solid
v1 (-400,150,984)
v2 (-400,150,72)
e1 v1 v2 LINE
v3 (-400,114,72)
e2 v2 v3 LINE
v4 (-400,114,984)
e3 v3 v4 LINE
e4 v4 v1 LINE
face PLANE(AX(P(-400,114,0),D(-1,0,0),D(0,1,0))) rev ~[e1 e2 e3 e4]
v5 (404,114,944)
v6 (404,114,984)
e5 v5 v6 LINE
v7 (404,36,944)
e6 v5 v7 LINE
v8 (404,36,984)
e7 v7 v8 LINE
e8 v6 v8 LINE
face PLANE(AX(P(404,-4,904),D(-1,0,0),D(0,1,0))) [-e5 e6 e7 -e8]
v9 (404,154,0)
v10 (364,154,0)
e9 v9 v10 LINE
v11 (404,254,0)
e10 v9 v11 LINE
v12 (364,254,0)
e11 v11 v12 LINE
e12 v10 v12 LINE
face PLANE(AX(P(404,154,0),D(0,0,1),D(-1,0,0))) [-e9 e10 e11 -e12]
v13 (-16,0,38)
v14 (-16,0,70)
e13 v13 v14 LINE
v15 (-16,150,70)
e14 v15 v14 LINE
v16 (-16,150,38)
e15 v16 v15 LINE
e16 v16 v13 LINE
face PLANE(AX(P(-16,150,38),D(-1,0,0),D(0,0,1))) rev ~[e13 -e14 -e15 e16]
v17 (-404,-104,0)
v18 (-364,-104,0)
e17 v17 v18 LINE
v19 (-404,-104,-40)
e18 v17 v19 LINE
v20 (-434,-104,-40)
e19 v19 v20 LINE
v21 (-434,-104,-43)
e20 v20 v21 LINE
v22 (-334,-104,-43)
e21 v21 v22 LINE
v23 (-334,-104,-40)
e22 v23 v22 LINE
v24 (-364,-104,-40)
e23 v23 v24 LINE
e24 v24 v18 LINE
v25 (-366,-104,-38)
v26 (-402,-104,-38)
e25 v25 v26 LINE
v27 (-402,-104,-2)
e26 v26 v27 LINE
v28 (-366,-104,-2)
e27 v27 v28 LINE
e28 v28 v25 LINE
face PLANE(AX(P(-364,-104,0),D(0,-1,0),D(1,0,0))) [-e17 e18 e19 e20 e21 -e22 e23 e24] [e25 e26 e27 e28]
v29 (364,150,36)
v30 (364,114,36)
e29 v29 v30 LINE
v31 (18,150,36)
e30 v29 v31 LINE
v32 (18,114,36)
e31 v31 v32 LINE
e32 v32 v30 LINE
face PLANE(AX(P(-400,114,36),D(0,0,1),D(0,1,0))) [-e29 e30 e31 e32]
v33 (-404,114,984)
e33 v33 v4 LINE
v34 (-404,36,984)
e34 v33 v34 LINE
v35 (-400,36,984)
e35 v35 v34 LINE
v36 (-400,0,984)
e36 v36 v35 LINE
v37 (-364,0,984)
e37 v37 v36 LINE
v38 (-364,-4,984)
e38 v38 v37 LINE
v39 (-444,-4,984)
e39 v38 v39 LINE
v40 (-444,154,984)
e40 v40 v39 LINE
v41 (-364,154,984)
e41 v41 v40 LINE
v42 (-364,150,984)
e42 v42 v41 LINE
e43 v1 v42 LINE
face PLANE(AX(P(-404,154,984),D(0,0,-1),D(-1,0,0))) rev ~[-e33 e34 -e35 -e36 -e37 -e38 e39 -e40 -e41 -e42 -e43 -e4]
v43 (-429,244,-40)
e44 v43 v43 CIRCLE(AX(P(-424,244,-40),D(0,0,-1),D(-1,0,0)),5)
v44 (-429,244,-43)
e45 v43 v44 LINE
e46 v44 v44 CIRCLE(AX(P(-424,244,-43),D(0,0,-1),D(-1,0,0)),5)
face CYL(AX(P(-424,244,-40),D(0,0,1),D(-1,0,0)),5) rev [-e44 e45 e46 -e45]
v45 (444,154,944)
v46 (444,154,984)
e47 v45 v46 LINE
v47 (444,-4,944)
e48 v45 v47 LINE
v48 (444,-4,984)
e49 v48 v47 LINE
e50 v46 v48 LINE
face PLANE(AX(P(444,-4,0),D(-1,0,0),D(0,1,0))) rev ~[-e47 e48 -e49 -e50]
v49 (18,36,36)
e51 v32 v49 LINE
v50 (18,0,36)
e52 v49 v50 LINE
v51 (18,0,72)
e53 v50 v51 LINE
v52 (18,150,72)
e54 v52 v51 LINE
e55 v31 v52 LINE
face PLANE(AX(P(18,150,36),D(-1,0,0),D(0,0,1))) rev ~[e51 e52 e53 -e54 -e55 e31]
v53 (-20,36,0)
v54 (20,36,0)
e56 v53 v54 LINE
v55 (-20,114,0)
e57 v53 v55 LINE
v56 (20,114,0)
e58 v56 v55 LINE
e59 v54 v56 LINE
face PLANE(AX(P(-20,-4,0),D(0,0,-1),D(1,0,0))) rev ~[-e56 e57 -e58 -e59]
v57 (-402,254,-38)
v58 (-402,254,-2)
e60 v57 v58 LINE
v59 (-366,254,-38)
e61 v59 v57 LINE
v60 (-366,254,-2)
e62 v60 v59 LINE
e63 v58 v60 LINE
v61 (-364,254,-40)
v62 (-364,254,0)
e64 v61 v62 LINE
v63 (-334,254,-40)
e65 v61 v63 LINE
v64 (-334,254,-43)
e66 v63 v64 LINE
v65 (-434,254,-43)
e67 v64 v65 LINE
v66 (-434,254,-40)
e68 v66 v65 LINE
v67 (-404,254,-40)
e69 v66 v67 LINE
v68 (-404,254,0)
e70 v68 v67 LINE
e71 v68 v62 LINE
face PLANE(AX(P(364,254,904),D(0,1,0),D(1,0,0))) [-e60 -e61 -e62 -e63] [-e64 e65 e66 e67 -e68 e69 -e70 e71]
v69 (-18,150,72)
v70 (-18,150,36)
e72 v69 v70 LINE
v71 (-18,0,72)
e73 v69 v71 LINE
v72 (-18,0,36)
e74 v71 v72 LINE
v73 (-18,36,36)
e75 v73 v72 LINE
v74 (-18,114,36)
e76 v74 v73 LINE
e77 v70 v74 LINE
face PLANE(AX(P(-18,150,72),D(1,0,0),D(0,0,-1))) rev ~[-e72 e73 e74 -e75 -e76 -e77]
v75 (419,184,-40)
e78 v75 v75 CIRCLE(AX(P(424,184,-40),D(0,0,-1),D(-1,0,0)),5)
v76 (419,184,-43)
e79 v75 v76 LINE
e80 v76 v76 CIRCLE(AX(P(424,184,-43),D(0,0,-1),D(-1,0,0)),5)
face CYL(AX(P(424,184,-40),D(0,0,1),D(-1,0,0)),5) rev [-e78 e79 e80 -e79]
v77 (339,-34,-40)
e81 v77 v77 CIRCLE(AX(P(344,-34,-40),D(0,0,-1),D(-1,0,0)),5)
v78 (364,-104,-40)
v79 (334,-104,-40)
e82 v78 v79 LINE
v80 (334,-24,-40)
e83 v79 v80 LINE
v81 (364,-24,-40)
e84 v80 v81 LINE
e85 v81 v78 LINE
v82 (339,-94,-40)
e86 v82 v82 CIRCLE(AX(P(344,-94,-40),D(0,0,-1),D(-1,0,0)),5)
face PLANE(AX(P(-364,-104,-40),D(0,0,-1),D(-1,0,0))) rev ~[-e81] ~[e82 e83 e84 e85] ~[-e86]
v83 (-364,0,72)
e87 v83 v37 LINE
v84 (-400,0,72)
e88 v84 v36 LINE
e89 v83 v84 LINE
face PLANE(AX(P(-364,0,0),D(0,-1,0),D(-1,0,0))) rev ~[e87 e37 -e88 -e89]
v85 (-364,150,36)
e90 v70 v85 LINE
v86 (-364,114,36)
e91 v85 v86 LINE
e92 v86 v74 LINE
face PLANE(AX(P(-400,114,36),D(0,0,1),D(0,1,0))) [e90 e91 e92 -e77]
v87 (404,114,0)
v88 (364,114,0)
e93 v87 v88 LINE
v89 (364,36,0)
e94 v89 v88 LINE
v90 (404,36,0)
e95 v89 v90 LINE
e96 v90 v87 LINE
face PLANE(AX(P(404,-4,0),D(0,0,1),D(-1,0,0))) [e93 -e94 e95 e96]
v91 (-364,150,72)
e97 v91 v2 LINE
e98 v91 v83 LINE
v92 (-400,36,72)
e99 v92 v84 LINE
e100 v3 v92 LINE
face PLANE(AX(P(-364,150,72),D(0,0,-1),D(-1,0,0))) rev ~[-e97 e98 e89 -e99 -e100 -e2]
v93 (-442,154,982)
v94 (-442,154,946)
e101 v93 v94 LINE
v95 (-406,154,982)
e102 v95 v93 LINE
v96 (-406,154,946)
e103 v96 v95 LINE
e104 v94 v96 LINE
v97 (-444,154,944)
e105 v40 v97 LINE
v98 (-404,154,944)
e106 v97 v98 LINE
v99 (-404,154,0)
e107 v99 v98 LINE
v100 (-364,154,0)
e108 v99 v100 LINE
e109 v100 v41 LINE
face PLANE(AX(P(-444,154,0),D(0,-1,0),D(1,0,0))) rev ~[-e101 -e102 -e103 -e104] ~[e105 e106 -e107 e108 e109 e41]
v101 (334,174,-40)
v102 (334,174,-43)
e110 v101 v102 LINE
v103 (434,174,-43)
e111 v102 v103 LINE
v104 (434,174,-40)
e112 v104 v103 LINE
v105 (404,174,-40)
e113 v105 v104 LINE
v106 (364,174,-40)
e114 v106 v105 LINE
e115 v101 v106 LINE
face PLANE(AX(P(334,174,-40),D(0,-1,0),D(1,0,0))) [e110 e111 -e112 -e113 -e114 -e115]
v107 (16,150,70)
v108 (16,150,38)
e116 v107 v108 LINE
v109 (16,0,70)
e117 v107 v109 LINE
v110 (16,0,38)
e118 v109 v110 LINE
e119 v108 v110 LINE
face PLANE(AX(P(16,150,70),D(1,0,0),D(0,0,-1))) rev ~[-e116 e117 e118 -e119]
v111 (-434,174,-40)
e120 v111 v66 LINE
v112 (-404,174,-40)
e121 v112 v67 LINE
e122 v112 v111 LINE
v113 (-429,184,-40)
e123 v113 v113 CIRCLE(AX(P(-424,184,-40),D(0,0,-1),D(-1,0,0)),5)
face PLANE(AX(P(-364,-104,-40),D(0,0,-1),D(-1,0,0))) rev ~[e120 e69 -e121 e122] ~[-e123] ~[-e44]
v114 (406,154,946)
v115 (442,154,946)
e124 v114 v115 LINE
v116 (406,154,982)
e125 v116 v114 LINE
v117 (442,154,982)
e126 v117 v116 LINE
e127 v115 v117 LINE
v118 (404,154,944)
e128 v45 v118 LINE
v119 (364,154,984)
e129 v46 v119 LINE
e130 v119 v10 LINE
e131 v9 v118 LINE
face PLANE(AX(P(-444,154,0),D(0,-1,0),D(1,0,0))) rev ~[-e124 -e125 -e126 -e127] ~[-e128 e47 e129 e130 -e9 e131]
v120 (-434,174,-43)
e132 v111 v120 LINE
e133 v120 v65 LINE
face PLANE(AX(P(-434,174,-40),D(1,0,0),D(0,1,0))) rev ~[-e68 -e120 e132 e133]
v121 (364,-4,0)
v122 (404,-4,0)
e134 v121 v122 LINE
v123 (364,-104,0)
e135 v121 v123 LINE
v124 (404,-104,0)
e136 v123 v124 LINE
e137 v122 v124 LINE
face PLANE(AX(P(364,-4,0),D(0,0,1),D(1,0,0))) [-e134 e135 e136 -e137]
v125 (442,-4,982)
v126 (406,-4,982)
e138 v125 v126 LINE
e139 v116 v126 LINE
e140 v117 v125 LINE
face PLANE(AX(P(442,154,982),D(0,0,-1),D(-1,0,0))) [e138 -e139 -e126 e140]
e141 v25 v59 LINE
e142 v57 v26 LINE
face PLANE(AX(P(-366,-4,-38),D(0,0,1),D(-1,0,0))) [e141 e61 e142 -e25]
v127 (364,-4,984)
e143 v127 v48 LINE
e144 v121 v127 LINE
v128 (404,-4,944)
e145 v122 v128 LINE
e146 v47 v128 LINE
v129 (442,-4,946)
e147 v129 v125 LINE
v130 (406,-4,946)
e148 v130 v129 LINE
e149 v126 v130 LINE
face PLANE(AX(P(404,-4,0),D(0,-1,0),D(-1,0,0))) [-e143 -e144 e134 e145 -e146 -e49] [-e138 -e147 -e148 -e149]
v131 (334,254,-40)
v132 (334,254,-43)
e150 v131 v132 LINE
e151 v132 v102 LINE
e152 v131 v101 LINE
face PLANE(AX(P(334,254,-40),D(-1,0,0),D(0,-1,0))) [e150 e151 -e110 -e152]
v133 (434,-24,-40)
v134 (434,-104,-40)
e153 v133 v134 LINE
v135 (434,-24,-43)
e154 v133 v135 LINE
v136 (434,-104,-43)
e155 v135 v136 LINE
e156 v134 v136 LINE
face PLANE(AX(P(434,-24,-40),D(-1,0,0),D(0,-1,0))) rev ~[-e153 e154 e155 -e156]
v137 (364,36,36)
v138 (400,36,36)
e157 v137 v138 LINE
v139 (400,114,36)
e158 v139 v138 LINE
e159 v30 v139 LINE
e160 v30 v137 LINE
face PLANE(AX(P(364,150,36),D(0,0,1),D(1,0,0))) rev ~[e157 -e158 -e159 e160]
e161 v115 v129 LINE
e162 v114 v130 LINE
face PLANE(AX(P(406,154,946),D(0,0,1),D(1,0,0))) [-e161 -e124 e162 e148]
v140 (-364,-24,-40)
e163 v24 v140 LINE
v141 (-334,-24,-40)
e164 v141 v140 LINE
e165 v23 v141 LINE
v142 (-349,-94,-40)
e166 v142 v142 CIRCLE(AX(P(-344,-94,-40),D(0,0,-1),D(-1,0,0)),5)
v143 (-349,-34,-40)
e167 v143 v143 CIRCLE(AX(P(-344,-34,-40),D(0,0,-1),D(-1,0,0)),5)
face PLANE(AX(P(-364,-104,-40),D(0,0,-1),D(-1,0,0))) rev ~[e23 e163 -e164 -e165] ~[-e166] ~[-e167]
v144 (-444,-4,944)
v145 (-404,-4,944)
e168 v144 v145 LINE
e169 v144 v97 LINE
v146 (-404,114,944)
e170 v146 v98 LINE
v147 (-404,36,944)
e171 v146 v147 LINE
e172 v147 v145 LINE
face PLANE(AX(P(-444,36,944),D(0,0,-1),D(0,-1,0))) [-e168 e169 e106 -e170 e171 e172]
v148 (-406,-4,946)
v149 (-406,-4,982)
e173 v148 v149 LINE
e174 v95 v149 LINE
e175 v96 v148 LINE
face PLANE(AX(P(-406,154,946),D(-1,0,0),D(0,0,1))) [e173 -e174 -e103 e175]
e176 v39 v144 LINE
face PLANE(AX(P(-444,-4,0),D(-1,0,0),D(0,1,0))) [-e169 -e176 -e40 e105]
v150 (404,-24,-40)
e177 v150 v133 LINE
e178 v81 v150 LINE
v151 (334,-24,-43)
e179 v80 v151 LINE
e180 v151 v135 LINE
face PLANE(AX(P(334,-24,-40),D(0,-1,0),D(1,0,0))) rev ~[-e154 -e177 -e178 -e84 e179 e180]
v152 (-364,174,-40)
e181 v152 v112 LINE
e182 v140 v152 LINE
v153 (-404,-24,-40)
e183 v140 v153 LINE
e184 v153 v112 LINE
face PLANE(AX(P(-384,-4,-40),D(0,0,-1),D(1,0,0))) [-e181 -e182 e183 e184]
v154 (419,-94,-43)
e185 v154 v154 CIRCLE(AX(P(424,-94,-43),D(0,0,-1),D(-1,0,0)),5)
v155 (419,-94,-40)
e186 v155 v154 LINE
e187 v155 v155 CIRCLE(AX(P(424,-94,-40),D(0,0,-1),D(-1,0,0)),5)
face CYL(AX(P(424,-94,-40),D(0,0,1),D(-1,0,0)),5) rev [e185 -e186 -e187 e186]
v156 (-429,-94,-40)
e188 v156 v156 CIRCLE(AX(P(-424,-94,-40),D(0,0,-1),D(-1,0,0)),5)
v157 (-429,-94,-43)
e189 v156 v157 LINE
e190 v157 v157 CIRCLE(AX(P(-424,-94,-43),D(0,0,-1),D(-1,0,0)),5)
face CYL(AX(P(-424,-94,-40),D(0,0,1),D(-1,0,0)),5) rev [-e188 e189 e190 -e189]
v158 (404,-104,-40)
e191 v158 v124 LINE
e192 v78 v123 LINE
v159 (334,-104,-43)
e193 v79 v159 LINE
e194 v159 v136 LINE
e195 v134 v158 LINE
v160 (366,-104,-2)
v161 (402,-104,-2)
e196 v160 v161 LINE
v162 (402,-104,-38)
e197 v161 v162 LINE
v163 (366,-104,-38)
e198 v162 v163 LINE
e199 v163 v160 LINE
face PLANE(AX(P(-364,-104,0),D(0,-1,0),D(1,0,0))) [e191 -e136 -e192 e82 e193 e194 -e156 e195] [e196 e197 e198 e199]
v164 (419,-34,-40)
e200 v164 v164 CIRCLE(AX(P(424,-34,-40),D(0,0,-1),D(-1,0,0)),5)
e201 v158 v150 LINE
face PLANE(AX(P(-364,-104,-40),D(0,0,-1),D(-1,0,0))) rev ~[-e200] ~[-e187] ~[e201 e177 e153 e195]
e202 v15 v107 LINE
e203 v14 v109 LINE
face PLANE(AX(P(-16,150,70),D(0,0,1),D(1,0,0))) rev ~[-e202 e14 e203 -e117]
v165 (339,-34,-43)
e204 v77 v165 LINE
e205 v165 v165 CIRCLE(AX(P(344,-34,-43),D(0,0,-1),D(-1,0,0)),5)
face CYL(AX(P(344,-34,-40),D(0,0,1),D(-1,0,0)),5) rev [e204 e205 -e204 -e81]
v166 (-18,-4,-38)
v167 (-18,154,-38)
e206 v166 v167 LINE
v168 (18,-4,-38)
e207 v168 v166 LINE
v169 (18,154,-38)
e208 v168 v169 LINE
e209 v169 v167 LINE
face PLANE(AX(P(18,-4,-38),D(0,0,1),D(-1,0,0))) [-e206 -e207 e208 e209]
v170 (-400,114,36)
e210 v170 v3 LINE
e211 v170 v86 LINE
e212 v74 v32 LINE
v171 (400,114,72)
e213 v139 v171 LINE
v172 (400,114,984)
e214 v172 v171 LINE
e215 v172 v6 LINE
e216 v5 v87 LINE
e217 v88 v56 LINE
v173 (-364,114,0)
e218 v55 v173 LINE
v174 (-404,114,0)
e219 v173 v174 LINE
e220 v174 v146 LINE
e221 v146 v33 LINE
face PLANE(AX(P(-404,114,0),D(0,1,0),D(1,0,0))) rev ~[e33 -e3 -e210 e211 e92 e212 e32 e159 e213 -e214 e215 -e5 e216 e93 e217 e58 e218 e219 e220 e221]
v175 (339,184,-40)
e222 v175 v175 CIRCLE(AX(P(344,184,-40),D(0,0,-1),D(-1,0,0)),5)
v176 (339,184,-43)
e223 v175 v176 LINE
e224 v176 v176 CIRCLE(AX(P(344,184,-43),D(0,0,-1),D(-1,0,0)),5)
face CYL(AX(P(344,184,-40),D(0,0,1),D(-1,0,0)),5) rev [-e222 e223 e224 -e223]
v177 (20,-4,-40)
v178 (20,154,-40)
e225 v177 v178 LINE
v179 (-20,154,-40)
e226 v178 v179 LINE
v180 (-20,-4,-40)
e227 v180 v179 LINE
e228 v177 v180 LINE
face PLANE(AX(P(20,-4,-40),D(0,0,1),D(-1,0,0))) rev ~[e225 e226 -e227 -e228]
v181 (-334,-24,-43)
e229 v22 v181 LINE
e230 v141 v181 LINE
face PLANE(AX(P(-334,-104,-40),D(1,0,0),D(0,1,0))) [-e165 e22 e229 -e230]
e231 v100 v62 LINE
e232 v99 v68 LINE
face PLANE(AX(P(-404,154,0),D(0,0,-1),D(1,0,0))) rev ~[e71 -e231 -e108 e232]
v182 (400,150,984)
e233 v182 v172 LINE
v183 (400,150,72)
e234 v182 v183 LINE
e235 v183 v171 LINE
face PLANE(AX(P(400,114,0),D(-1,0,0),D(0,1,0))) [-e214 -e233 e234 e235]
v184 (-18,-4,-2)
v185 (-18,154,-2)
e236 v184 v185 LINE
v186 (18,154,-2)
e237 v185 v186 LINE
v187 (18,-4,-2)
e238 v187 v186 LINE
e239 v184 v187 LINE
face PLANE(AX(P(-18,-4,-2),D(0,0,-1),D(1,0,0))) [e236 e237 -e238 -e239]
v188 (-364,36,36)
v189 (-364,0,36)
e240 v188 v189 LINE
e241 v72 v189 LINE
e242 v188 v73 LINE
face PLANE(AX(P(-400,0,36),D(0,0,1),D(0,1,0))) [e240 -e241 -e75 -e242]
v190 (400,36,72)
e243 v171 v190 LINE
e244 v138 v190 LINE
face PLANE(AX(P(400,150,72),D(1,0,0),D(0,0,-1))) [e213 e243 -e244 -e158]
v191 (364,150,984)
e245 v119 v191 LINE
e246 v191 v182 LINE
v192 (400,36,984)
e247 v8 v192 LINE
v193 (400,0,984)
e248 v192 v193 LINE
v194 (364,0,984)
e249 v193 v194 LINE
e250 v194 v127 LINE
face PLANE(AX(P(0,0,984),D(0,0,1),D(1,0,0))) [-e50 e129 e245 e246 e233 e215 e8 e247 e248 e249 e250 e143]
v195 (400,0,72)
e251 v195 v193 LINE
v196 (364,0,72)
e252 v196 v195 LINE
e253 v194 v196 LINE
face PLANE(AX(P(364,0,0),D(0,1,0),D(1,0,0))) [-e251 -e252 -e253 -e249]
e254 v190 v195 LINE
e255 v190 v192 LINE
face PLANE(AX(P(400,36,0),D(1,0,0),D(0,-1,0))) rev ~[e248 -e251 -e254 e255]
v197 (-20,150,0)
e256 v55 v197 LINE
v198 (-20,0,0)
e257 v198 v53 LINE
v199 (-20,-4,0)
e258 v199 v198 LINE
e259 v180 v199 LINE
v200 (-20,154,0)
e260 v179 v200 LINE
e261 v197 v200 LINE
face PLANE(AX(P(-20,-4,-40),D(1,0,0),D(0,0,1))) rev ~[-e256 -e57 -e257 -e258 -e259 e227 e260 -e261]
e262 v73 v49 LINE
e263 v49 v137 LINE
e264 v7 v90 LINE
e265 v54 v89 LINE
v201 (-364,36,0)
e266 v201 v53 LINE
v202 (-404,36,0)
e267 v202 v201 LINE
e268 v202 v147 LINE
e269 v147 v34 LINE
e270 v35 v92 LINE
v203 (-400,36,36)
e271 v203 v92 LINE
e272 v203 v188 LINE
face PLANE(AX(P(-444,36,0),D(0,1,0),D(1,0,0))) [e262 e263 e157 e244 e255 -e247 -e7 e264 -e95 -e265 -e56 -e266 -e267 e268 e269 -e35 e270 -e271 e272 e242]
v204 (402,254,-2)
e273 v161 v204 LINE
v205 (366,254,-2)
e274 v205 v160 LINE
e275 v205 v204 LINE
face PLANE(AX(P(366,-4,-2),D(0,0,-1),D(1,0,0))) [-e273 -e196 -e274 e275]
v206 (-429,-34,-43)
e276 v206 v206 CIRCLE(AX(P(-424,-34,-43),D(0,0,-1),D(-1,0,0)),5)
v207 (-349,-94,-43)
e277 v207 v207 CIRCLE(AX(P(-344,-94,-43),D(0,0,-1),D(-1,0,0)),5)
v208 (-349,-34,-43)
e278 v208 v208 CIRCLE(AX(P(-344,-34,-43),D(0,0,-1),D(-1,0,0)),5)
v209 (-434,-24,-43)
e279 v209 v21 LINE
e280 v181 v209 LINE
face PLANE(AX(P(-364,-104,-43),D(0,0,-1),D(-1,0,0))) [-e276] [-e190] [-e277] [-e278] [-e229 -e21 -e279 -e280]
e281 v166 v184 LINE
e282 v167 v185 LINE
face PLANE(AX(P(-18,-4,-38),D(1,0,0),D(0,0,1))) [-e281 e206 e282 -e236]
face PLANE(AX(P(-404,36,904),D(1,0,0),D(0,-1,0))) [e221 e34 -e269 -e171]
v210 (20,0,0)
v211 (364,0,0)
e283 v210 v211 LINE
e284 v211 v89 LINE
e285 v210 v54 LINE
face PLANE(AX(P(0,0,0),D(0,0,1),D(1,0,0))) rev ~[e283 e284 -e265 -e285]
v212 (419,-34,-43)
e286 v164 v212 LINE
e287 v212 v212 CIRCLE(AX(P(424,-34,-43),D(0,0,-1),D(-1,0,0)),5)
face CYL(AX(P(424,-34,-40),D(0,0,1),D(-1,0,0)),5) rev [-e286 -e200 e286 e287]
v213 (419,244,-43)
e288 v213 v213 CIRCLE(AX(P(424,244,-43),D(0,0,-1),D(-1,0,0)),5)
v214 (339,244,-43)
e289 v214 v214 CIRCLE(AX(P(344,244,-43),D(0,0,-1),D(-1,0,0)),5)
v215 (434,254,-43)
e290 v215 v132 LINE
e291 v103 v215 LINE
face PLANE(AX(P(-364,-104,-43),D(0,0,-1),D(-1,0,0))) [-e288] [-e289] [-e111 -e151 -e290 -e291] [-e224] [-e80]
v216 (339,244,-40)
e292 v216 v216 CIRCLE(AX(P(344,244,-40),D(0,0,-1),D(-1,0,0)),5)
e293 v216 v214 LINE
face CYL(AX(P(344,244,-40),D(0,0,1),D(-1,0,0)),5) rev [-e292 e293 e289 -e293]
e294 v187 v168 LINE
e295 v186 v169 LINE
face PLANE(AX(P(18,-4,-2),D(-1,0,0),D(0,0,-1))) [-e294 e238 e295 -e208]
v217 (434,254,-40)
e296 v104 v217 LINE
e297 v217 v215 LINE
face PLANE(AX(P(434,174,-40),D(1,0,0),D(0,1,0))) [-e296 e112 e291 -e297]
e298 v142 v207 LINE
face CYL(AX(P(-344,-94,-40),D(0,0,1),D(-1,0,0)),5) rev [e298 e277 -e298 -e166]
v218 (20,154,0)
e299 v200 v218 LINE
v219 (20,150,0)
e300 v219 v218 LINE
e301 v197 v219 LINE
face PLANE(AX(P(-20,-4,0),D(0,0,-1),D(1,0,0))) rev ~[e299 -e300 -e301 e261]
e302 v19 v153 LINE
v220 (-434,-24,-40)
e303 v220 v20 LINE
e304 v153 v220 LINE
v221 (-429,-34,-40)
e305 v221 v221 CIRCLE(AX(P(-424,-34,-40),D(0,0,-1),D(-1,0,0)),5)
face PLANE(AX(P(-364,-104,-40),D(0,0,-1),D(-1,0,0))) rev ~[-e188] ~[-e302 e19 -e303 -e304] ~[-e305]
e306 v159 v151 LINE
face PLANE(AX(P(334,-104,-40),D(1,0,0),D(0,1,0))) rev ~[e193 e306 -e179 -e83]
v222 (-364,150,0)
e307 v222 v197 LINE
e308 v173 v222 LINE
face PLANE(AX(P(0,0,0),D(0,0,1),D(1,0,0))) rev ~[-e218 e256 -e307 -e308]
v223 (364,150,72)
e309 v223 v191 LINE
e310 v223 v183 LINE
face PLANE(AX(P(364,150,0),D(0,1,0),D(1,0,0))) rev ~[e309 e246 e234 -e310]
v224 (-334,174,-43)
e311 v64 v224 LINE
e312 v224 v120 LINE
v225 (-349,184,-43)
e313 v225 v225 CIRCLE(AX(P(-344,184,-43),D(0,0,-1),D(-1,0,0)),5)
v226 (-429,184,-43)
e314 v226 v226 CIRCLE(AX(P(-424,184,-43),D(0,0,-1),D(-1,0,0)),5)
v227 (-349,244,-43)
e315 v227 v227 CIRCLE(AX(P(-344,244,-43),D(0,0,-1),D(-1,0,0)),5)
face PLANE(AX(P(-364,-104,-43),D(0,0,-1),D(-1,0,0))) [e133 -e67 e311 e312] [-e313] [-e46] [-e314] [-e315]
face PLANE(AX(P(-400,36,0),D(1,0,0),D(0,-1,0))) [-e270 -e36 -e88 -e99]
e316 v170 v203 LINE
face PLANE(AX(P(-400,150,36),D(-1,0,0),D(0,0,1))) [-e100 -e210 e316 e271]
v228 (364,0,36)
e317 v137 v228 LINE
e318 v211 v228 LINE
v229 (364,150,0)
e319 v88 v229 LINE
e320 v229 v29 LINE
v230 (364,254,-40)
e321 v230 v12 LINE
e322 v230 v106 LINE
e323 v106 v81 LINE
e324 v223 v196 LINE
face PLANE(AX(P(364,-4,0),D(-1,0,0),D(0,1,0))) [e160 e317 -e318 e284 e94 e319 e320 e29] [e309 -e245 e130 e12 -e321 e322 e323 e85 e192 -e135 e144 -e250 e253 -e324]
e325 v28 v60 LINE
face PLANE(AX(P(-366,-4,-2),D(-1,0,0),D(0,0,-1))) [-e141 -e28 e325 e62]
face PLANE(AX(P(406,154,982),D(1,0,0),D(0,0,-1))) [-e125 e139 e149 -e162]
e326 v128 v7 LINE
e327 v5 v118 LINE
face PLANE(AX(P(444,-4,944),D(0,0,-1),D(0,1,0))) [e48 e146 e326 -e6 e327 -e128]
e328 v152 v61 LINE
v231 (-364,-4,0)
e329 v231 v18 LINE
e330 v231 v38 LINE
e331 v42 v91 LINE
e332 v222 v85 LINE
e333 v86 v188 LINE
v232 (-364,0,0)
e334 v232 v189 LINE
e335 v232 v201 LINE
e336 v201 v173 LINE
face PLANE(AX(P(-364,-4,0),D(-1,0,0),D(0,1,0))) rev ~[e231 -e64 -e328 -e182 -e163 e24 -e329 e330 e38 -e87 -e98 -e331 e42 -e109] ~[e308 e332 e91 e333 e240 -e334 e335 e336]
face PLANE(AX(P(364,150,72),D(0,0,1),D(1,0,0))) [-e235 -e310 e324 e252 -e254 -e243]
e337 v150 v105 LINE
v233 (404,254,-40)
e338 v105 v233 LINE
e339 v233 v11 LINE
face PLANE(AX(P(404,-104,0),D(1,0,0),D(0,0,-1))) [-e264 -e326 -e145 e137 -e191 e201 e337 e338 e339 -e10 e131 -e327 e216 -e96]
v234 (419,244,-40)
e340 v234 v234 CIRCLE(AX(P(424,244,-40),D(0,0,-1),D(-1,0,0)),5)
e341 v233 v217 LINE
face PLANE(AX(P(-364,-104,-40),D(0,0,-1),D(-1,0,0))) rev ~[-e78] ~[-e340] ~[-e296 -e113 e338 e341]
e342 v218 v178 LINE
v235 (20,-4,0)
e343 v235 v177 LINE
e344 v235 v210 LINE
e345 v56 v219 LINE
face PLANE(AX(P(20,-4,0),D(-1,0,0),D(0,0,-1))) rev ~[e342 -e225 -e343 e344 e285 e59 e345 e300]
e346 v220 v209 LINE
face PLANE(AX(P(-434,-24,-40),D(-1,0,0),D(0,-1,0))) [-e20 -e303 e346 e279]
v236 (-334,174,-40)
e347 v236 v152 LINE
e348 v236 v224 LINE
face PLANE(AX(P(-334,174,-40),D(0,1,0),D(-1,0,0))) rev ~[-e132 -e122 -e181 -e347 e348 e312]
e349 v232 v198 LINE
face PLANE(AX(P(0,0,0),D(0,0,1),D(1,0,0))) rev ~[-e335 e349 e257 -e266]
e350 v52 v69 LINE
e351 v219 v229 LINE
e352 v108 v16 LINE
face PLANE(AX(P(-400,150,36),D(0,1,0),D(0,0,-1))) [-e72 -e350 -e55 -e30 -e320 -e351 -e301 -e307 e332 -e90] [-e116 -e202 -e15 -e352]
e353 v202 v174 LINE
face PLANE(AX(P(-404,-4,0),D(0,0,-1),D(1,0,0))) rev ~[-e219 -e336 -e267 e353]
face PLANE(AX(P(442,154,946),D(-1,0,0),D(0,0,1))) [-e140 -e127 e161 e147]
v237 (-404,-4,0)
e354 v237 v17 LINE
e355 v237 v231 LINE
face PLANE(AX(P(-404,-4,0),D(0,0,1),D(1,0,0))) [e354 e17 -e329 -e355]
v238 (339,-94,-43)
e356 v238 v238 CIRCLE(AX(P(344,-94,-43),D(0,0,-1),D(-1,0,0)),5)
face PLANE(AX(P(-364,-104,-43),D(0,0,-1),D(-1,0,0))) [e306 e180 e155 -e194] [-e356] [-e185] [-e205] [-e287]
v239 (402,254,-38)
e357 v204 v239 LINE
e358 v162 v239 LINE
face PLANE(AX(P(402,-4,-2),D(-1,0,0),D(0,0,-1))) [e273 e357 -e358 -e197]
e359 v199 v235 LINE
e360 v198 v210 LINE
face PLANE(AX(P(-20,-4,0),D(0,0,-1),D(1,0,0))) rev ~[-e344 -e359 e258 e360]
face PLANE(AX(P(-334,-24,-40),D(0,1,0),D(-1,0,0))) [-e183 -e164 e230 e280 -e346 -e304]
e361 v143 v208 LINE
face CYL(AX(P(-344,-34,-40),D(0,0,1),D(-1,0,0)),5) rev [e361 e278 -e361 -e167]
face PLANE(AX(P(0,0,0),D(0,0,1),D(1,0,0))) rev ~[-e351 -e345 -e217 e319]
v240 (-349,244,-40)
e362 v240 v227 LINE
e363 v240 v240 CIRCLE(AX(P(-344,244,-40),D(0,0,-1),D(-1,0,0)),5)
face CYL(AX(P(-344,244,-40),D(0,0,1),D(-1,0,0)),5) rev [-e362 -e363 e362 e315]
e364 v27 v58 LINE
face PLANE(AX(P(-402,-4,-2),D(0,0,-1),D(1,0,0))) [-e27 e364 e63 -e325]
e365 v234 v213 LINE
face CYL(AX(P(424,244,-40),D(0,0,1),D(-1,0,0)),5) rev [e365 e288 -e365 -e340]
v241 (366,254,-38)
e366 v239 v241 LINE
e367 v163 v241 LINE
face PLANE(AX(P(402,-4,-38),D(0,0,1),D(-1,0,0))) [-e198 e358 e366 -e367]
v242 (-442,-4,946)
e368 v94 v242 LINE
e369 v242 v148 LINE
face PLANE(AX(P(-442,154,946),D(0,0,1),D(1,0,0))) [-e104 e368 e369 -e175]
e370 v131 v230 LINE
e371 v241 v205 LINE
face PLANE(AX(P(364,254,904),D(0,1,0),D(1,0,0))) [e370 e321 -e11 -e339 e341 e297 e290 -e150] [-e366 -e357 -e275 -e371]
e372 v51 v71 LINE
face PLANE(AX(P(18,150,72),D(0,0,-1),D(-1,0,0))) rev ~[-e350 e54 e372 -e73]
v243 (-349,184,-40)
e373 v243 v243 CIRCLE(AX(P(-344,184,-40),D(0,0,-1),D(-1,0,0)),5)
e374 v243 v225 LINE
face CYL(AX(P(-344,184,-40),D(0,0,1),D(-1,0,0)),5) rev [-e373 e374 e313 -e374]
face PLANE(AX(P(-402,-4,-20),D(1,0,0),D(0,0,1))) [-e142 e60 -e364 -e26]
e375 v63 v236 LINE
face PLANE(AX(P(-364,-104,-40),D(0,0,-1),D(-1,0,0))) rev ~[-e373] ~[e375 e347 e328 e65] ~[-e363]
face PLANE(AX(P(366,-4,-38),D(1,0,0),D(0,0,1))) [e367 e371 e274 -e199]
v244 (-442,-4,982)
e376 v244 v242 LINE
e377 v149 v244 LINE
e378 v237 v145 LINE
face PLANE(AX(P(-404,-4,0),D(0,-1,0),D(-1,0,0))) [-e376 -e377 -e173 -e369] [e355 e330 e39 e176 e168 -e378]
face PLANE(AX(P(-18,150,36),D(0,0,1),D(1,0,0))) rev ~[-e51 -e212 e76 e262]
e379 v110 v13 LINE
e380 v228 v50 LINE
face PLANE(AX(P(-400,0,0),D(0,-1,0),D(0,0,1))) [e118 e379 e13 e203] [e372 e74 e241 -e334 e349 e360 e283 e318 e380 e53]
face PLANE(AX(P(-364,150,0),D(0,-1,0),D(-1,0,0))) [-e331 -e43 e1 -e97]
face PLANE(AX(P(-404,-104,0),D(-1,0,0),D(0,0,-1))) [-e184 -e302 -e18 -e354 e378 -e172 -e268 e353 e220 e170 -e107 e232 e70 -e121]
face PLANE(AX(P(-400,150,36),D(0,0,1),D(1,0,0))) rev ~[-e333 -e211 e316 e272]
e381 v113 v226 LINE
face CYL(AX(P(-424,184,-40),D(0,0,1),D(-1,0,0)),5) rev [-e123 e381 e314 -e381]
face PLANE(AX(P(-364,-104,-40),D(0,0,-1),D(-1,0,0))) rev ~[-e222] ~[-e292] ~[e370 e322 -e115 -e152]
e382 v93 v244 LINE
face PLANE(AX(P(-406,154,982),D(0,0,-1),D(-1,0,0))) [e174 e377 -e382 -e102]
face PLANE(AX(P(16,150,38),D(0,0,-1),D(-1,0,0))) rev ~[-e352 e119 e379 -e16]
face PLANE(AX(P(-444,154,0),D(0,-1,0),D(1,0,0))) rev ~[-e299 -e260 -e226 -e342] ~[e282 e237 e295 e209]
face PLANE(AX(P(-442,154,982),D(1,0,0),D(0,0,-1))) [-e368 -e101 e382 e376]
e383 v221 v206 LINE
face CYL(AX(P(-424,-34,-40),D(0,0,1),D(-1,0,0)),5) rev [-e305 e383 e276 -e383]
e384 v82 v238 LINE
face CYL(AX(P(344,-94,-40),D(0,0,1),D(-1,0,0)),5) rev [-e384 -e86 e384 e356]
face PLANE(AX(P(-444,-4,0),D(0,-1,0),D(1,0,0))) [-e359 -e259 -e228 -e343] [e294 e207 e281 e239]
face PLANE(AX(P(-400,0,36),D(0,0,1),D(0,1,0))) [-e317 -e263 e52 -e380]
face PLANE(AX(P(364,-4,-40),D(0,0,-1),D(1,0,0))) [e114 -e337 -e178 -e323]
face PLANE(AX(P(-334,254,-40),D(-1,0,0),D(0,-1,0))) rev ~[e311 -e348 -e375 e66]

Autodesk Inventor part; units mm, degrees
ref_plane "YZ Plane" through (0, 0, 0) normal (1, 0, 0) x (0, 1, 0)
ref_plane "XZ Plane" through (0, 0, 0) normal (0, 1, 0) x (-1, 0, 0)
ref_plane "XY Plane" through (0, 0, 0) normal (0, 0, 1) x (1, 0, 0)
sketch "Boceto1" plane through (0, 0, 0) normal (0, 0, 1) x (1, 0, 0)
  line L0 (0, 0) -> (-828.6689, 0) construction
  line L1 (0, 0) -> (821.843, 0) construction
  line L2 (-400, 150) -> (400, 150) construction
  line L3 (400, 150) -> (400, 0) construction
  line L4 (400, 0) -> (-400, 0) construction
  line L5 (-400, 0) -> (-400, 150) construction
  line L6 (0, 0) -> (0, 380.6015) construction
  line L7 (-404, 36) -> (-404, -4) construction
  line L8 (-404, -4) -> (-364, -4)
  line L9 (-364, -4) -> (-364, 0)
  line L10 (-364, 0) -> (-400, 0)
  line L11 (-400, 36) -> (-400, 0)
  line L12 (-404, 36) -> (-400, 36)
  line L13 (-404, -4) -> (-444, -4)
  line L14 (-444, -4) -> (-444, 36)
  line L15 (-444, 36) -> (-404, 36)
  line L16 (-404, 36) -> (-404, -4) construction
  line L17 (-442, 34) -> (-406, 34)
  line L18 (-406, 34) -> (-406, -2)
  line L19 (-406, -2) -> (-442, -2)
  line L20 (-442, -2) -> (-442, 34)
  line L21 (-424, 34) -> (-424, 36) construction
  line L22 (-442, 16) -> (-444, 16) construction
  line L23 (0, 0) -> (828.6689, 0) construction
  line L24 (0, 0) -> (-821.843, 0) construction
  line L25 (-400, 0) -> (400, 0) construction
  line L26 (404, 36) -> (404, -4) construction
  line L27 (404, -4) -> (364, -4)
  line L28 (364, -4) -> (364, 0)
  line L29 (364, 0) -> (400, 0)
  line L30 (400, 36) -> (400, 0)
  line L31 (404, 36) -> (400, 36)
  line L32 (404, -4) -> (444, -4)
  line L33 (444, -4) -> (444, 36)
  line L34 (444, 36) -> (404, 36)
  line L35 (404, 36) -> (404, -4) construction
  line L36 (442, 34) -> (406, 34)
  line L37 (406, 34) -> (406, -2)
  line L38 (406, -2) -> (442, -2)
  line L39 (442, -2) -> (442, 34)
  line L40 (424, 34) -> (424, 36) construction
  line L41 (442, 16) -> (444, 16) construction
  line L42 (400, 75) -> (-400, 75) construction
  line L43 (0, 150) -> (-828.6689, 150) construction
  line L44 (0, 150) -> (821.843, 150) construction
  line L45 (400, 150) -> (-400, 150) construction
  line L46 (0, 150) -> (0, -230.6015) construction
  line L47 (-404, 114) -> (-404, 154) construction
  line L48 (-404, 154) -> (-364, 154)
  line L49 (-364, 154) -> (-364, 150)
  line L50 (-364, 150) -> (-400, 150)
  line L51 (-400, 114) -> (-400, 150)
  line L52 (-404, 114) -> (-400, 114)
  line L53 (-404, 154) -> (-444, 154)
  line L54 (-444, 154) -> (-444, 114)
  line L55 (-444, 114) -> (-404, 114)
  line L56 (-404, 114) -> (-404, 154) construction
  line L57 (-442, 116) -> (-406, 116)
  line L58 (-406, 116) -> (-406, 152)
  line L59 (-406, 152) -> (-442, 152)
  line L60 (-442, 152) -> (-442, 116)
  line L61 (-424, 116) -> (-424, 114) construction
  line L62 (-442, 134) -> (-444, 134) construction
  line L63 (-400, 150) -> (400, 150) construction
  line L64 (364, 150) -> (400, 150)
  line L65 (364, 154) -> (364, 150)
  line L66 (404, 154) -> (364, 154)
  line L67 (0, 150) -> (828.6689, 150) construction
  line L68 (400, 114) -> (400, 150)
  line L69 (404, 114) -> (400, 114)
  line L70 (404, 114) -> (404, 154) construction
  line L71 (404, 114) -> (404, 154) construction
  line L72 (406, 116) -> (406, 152)
  line L73 (424, 116) -> (424, 114) construction
  line L74 (406, 152) -> (442, 152)
  line L75 (404, 154) -> (444, 154)
  line L76 (442, 152) -> (442, 116)
  line L77 (444, 154) -> (444, 114)
  line L78 (442, 134) -> (444, 134) construction
  line L79 (442, 116) -> (406, 116)
  line L80 (444, 114) -> (404, 114)
  line L81 (0, 150) -> (-821.843, 150) construction
  dimension "d0" = 800
  dimension "d1" = 150
  dimension "d3" = 4
  dimension "d5" = 40
  dimension "d7" = 40
  dimension "d8" = 2
extrude "Extrusión1" add sketch "Boceto1" along normal blind 904
sketch "Boceto2" plane through (-400, 0, 0) normal (1, 0, 0) x (0, 0, -1)
  line L0 (0, 0) -> (0, 36) projected
  line L1 (0, 36) -> (-904, 36) projected
  line L2 (-904, 0) -> (-904, 36) projected
  line L3 (0, 0) -> (-904, 0) projected
  line L4 (0, 0) -> (0, 36) projected
  line L5 (0, 36) -> (-904, 36) projected
  line L6 (0, 0) -> (-36, 0)
  line L7 (-36, 0) -> (-36, 36)
  line L8 (-36, 36) -> (0, 36)
  line L9 (0, 36) -> (0, 0)
  line L10 (0, 114) -> (-904, 114) projected
  line L11 (0, 114) -> (-36, 114)
  line L12 (-36, 114) -> (-36, 150)
  line L13 (-36, 150) -> (0, 150)
  line L14 (0, 150) -> (0, 114)
  line L15 (0, 150) -> (-904, 150) projected
extrude "Extrusión2" add sketch "Boceto2" along normal up to next contours L3 L7 L1 L0 | L10 L12 L13 L14
sketch "Boceto10" plane through (0, 0, 904) normal (0, 0, 1) x (1, 0, 0)
  line L0 (-400, 114) -> (-400, 150) projected
  line L1 (-400, 150) -> (-364, 150) projected
  line L2 (-364, 150) -> (-364, 154) projected
  line L3 (-364, 154) -> (-444, 154) projected
  line L4 (-444, 154) -> (-444, 114) projected
  line L5 (-444, 114) -> (-400, 114) projected
  line L6 (-442, 152) -> (-406, 152) projected
  line L7 (-406, 152) -> (-406, 116) projected
  line L8 (-406, 116) -> (-442, 116) projected
  line L9 (-442, 116) -> (-442, 152) projected
  line L10 (-400, 36) -> (-444, 36) projected
  line L11 (-444, 36) -> (-444, -4) projected
  line L12 (-444, -4) -> (-364, -4) projected
  line L13 (-364, -4) -> (-364, 0) projected
  line L14 (-364, 0) -> (-400, 0) projected
  line L15 (-400, 0) -> (-400, 36) projected
  line L16 (-442, -2) -> (-442, 34) projected
  line L17 (-442, 34) -> (-406, 34) projected
  line L18 (-406, 34) -> (-406, -2) projected
  line L19 (-406, -2) -> (-442, -2) projected
  line L20 (400, 114) -> (444, 114) projected
  line L21 (444, 114) -> (444, 154) projected
  line L22 (444, 154) -> (364, 154) projected
  line L23 (364, 154) -> (364, 150) projected
  line L24 (364, 150) -> (400, 150) projected
  line L25 (400, 150) -> (400, 114) projected
  line L26 (442, 152) -> (442, 116) projected
  line L27 (442, 116) -> (406, 116) projected
  line L28 (406, 116) -> (406, 152) projected
  line L29 (406, 152) -> (442, 152) projected
  line L30 (400, 36) -> (400, 0) projected
  line L31 (400, 0) -> (364, 0) projected
  line L32 (364, 0) -> (364, -4) projected
  line L33 (364, -4) -> (444, -4) projected
  line L34 (444, -4) -> (444, 36) projected
  line L35 (444, 36) -> (400, 36) projected
  line L36 (442, 34) -> (442, -2) projected
  line L37 (442, -2) -> (406, -2) projected
  line L38 (406, -2) -> (406, 34) projected
  line L39 (406, 34) -> (442, 34) projected
  line L40 (-364, 154) -> (-444, 154) projected
  line L41 (-404, 154) -> (-404, -4)
  line L42 (-444, -4) -> (-364, -4) projected
  line L43 (404, -4) -> (404, 154)
  line L44 (444, 154) -> (364, 154) projected
  point P0 (0, 0)
  point P1 (404, 114)
  point P2 (404, 36)
  point P3 (-404, 114)
  point P4 (-404, -4)
  point P5 (-404, 36)
  dimension "d36" = 2
  dimension "d37" = 2
extrude "Extrusión5" add sketch "Boceto10" along normal blind 40 contours L41 L12 L11 L10 | L5 L4 L3 L41 | L35 L34 L33 L43 | L43 L22 L21 L20
sketch "Boceto15" plane through (-444, -4, 0) normal (0, -1, 0) x (1, 0, 0)
  line L0 (0, 0) -> (0, 944) projected
  line L1 (0, 0) -> (80, 0)
  line L2 (808, 0) -> (808, -40)
  line L3 (808, -40) -> (848, -40)
  line L4 (810, -2) -> (846, -2)
  line L5 (846, -2) -> (846, -38)
  line L6 (846, -38) -> (810, -38)
  line L7 (810, -38) -> (810, -2)
  line L8 (808, -20) -> (810, -20) construction
  line L9 (828, -38) -> (828, -40) construction
  line L10 (424, 0) -> (464, 0)
  line L11 (464, 0) -> (464, -40)
  line L12 (464, -40) -> (424, -40)
  line L13 (424, -40) -> (424, 0)
  line L14 (426, -2) -> (462, -2)
  line L15 (462, -2) -> (462, -38)
  line L16 (462, -38) -> (426, -38)
  line L17 (426, -38) -> (426, -2)
  line L18 (424, -20) -> (426, -20) construction
  line L19 (444, -38) -> (444, -40) construction
  line L20 (80, 0) -> (0, 0) projected
  line L21 (0, 0) -> (80, 0) projected
  line L22 (80, 0) -> (40, 0)
  line L23 (40, 0) -> (40, -40)
  line L24 (40, -40) -> (80, -40)
  line L25 (80, -40) -> (80, 0)
  line L26 (42, -2) -> (78, -2)
  line L27 (78, -2) -> (78, -38)
  line L28 (78, -38) -> (42, -38)
  line L29 (42, -38) -> (42, -2)
  line L30 (42, -20) -> (40, -20)
  line L31 (60, -38) -> (60, -40)
  line L32 (848, -40) -> (848, 0)
  line L33 (80, 0) -> (808, 0) projected
  line L34 (888, 0) -> (808, 0) projected
  point P0 (444, 0)
  point P1 (444, 0)
  dimension "d48" = 2
  dimension "d51" = 2
  dimension "d52" = 40
  dimension "d82" = 2
  dimension "d83" = 40
  dimension "d84" = 40
extrude "Extrusión8" add sketch "Boceto15" against normal up to surface (158 mm away) contours L34 L32 L3 L2 | L10 L11 L12 L13 | L1 L25 L24 L31 L28 L27 L26 L29 L30 L23 | L30 L29 L28 L31 L24 L23
sketch "Boceto16" plane through (-364, -4, 0) normal (0, -1, 0) x (1, 0, 0)
  line L0 (-80, 0) -> (-40, 0) projected
  line L1 (-40, 904) -> (0, 904) projected
  line L2 (-40, 904) -> (-40, 944) projected
  line L3 (-80, 944) -> (-40, 944) projected
  line L4 (-80, 0) -> (-80, 944) projected
  line L5 (768, 0) -> (808, 0) projected
  line L6 (808, 0) -> (808, 944) projected
  line L7 (768, 944) -> (808, 944) projected
  line L8 (768, 904) -> (768, 944) projected
  line L9 (728, 904) -> (768, 904) projected
  line L10 (0, -40) -> (0, 904) projected
  line L11 (-40, 0) -> (-40, -40) projected
  line L12 (-38, -38) -> (-38, -2) projected
  line L13 (-38, -2) -> (-2, -2) projected
  line L14 (-2, -2) -> (-2, -38) projected
  line L15 (-2, -38) -> (-38, -38) projected
  line L16 (-40, -40) -> (0, -40) projected
  line L17 (-40, 0) -> (0, 0)
  line L18 (728, -40) -> (728, 904) projected
  line L19 (728, -40) -> (768, -40) projected
  line L20 (768, -40) -> (768, 0) projected
  line L21 (808, 0) -> (768, 0) projected
  line L22 (728, 0) -> (768, 0) projected
  line L23 (768, 0) -> (728, 0)
  line L24 (730, -2) -> (766, -2) projected
  line L25 (730, -38) -> (730, -2) projected
  line L26 (766, -2) -> (766, -38) projected
  line L27 (766, -38) -> (730, -38) projected
  point P0 (364, 0)
extrude "Extrusión9" add sketch "Boceto16" along normal blind 100 contours L17 L10 L16 L11 | L20 L19 L18 L22
sketch "Boceto18" plane through (-400, 150, 904) normal (0, -1, 0) x (1, 0, 0)
  line L0 (0, -868) -> (0, 0) projected
  line L1 (36, -868) -> (36, 0) projected
  line L2 (0, -868) -> (36, -868)
  line L3 (36, -868) -> (36, -832)
  line L4 (36, -832) -> (0, -832)
  line L5 (0, -832) -> (0, -868)
  line L6 (764, -868) -> (800, -868) projected
  line L7 (764, -868) -> (764, 0) projected
  line L8 (800, -868) -> (764, -868)
  line L9 (764, -868) -> (764, -832)
  line L10 (764, -832) -> (800, -832)
  line L11 (800, -832) -> (800, -868)
  line L12 (36, -868) -> (764, -868) projected
  line L13 (382, -868) -> (418, -868)
  line L14 (418, -868) -> (418, -832)
  line L15 (418, -832) -> (382, -832)
  line L16 (382, -832) -> (382, -868)
  line L17 (384, -834) -> (416, -834)
  line L18 (416, -834) -> (416, -866)
  line L19 (416, -866) -> (384, -866)
  line L20 (384, -866) -> (384, -834)
  line L21 (400, -832) -> (400, -834) construction
  line L22 (384, -850) -> (382, -850) construction
  point P0 (400, -904)
  point P1 (400, -868)
  point P2 (0, -832)
  dimension "d55" = 2
extrude "Extrusión10" add sketch "Boceto18" along normal up to surface (150 mm away)
sketch "Boceto19" plane through (364, 154, 904) normal (0, 1, 0) x (1, 0, 0)
  line L0 (80, 904) -> (40, 904) projected
  line L1 (0, 944) -> (0, 0) projected
  line L2 (40, 0) -> (0, 0) projected
  line L3 (40, 0) -> (40, -40) projected
  line L4 (80, -40) -> (40, -40) projected
  line L5 (80, 904) -> (80, -40) projected
  line L6 (-764, 868) -> (-728, 868) projected
  line L7 (-768, 904) -> (-808, 904) projected
  line L8 (-728, 944) -> (-728, 0) projected
  line L9 (-768, -40) -> (-808, -40) projected
  line L10 (-768, 0) -> (-768, -40) projected
  line L11 (-728, 0) -> (-768, 0) projected
  line L12 (-808, 904) -> (-808, -40) projected
  line L13 (-768, 944) -> (-728, 944) projected
  line L14 (-730, 942) -> (-766, 942) projected
  line L15 (-730, 906) -> (-730, 942) projected
  line L16 (-766, 906) -> (-730, 906) projected
  line L17 (-766, 942) -> (-766, 906) projected
  line L18 (-768, 904) -> (-768, 944) projected
  line L19 (-768, 904) -> (-808, 904) projected
  line L20 (-768, 904) -> (-728, 904) projected
  line L21 (-768, 904) -> (-728, 904)
  line L22 (38, 906) -> (38, 942) projected
  line L23 (2, 906) -> (38, 906) projected
  line L24 (2, 942) -> (2, 906) projected
  line L25 (38, 942) -> (2, 942) projected
  line L26 (0, 944) -> (0, 0) projected
  line L27 (40, 944) -> (40, 904) projected
  line L28 (0, 944) -> (40, 944) projected
  line L29 (40, 944) -> (40, 904) projected
  line L30 (0, 944) -> (40, 944) projected
  line L31 (80, 904) -> (40, 904) projected
  line L32 (40, 0) -> (0, 0) projected
  line L33 (40, 0) -> (40, -40) projected
  line L34 (80, -40) -> (40, -40) projected
  line L35 (80, 904) -> (80, -40) projected
  line L36 (-344, 904) -> (0, 904) projected
  line L37 (40, 904) -> (0, 904)
  point P0 (-364, 904)
extrude "Extrusión11" add sketch "Boceto19" along normal blind 100 contours L37 L1 L28 L27 | L18 L13 L8 L20
sketch "Boceto22" plane through (364, 154, 904) normal (0, 1, 0) x (1, 0, 0)
  line L0 (40, -40) -> (80, -40) projected
  line L1 (80, -40) -> (40, -40)
  line L2 (40, -40) -> (40, -80)
  line L3 (40, -80) -> (80, -80)
  line L4 (80, -80) -> (80, -40)
  line L5 (-808, -40) -> (-768, -40)
  line L6 (-768, -40) -> (-768, -80)
  line L7 (-768, -80) -> (-808, -80)
  line L8 (-808, -80) -> (-808, -40)
  line L9 (78, -78) -> (42, -78)
  line L10 (42, -78) -> (42, -42)
  line L11 (42, -42) -> (78, -42)
  line L12 (78, -42) -> (78, -78)
  line L13 (60, -78) -> (60, -80) construction
  line L14 (78, -60) -> (80, -60) construction
  line L15 (-770, -78) -> (-806, -78)
  line L16 (-806, -78) -> (-806, -42)
  line L17 (-806, -42) -> (-770, -42)
  line L18 (-770, -42) -> (-770, -78)
  line L19 (-788, -78) -> (-788, -80) construction
  line L20 (-770, -60) -> (-768, -60) construction
  point P0 (-364, 904)
  dimension "d70" = 40
  dimension "d71" = 2
  dimension "d72" = 2
extrude "Extrusión13" add sketch "Boceto22" against normal up to surface (158 mm away)
sketch "Boceto23" plane through (0, 0, 904) normal (0, 0, 1) x (1, 0, 0)
  line L0 (-404, 154) -> (-404, 114) projected
  line L1 (-404, 114) -> (-400, 114) projected
  line L2 (-400, 114) -> (-400, 150) projected
  line L3 (-400, 150) -> (-364, 150) projected
  line L4 (-364, 150) -> (-364, 154) projected
  line L5 (-404, 36) -> (-404, -4) projected
  line L6 (-364, -4) -> (-364, 0) projected
  line L7 (-364, 0) -> (-400, 0) projected
  line L8 (-400, 0) -> (-400, 36) projected
  line L9 (-400, 36) -> (-404, 36) projected
  line L10 (404, 114) -> (404, 154) projected
  line L11 (364, 154) -> (364, 150) projected
  line L12 (364, 150) -> (400, 150) projected
  line L13 (400, 150) -> (400, 114) projected
  line L14 (400, 114) -> (404, 114) projected
  line L15 (404, -4) -> (404, 36) projected
  line L16 (404, 36) -> (400, 36) projected
  line L17 (400, 36) -> (400, 0) projected
  line L18 (400, 0) -> (364, 0) projected
  line L19 (364, 0) -> (364, -4) projected
  line L20 (364, -4) -> (404, -4) projected
  line L21 (-364, 154) -> (-404, 154) projected
  line L22 (-404, -4) -> (-364, -4) projected
  line L23 (404, 154) -> (364, 154) projected
  point P0 (0, 0)
extrude "Extrusión14" add sketch "Boceto23" along normal up to surface (80 mm away)
sketch "Boceto24" plane through (-444, -104, 0) normal (-1, 0, 0) x (0, 0, -1)
  line L0 (0, -140) -> (-944, -140) projected
  line L1 (0, -218) -> (-944, -218) projected
  line L2 (-944, -218) -> (-944, -140) projected
  line L3 (-984, -258) -> (-984, -100) projected
  line L4 (0, -258) -> (-984, -258) projected
  line L5 (-944, -218) -> (0, -218)
  line L6 (-944, -218) -> (-944, -140) projected
  line L7 (-944, -140) -> (0, -140)
  line L8 (0, -258) -> (0, -218) projected
  line L9 (-944, -218) -> (-944, -140) projected
  line L10 (-944, -140) -> (-944, -100)
  line L11 (-944, -218) -> (-944, -258)
  line L12 (0, -140) -> (0, -100) projected
  line L13 (0, -100) -> (-984, -100) projected
  point P0 (0, -104)
  point P1 (0, 100)
  point P2 (0, 258)
  point P3 (-775.1193, -140)
  point P4 (0, -218)
  point P5 (-944, -100)
  point P6 (0, -140)
extrude "Extrusión15" cut sketch "Boceto24" against normal blind 40 contours L0 L10 L13 L12 | L1 L8 L4 L11
sketch "Boceto25" plane through (444, -104, 0) normal (1, 0, 0) x (0, 0, -1)
  line L0 (-944, 218) -> (-944, 140) projected
  line L1 (0, 258) -> (-984, 258) projected
  line L2 (-944, 258) -> (0, 258)
  line L3 (0, 258) -> (0, 100)
  line L4 (0, 100) -> (-944, 100)
  line L5 (-944, 100) -> (-944, 258)
  point P0 (0, 104)
  point P1 (-944, 218)
extrude "Extrusión16" cut sketch "Boceto25" against normal blind 40
sketch "Boceto26" plane through (-364, -104, -40) normal (0, 0, -1) x (-1, 0, 0)
  line L0 (70, 0) -> (-30, 0)
  line L1 (-30, 0) -> (-30, 80)
  line L2 (-30, 80) -> (70, 80)
  line L3 (70, 80) -> (70, 0)
  line L4 (40, 0) -> (0, 0) projected
  line L5 (60, 10) -> (-20, 10) construction
  line L6 (-20, 10) -> (-20, 70) construction
  line L7 (-20, 70) -> (60, 70) construction
  line L8 (60, 70) -> (60, 10) construction
  line L9 (60, 40) -> (70, 40) construction
  line L10 (20, 10) -> (20, 0) construction
  circle A0 centre (60, 10) radius 5
  circle A1 centre (60, 70) radius 5
  circle A2 centre (-20, 70) radius 5
  circle A3 centre (-20, 10) radius 5
  line L11 (-346, 100) -> (-382, 100) projected
  line L12 (-364, 100) -> (-364, -145.1556) construction
  line L13 (80, 258) -> (80, 100) projected
  line L14 (80, 179) -> (348.2503, 179) construction
  line L15 (70, 358) -> (-30, 358)
  line L16 (-30, 358) -> (-30, 278)
  line L17 (-30, 278) -> (70, 278)
  line L18 (70, 278) -> (70, 358)
  line L19 (40, 358) -> (0, 358)
  line L20 (60, 348) -> (-20, 348) construction
  line L21 (-20, 348) -> (-20, 288) construction
  line L22 (-20, 288) -> (60, 288) construction
  line L23 (60, 288) -> (60, 348) construction
  line L24 (60, 318) -> (70, 318) construction
  line L25 (20, 348) -> (20, 358) construction
  circle A4 centre (60, 348) radius 5
  circle A5 centre (60, 288) radius 5
  circle A6 centre (-20, 288) radius 5
  circle A7 centre (-20, 348) radius 5
  line L26 (-798, 0) -> (-698, 0)
  line L27 (-698, 0) -> (-698, 80)
  line L28 (-698, 80) -> (-798, 80)
  line L29 (-798, 80) -> (-798, 0)
  line L30 (-768, 0) -> (-728, 0)
  line L31 (-788, 10) -> (-708, 10) construction
  line L32 (-708, 10) -> (-708, 70) construction
  line L33 (-708, 70) -> (-788, 70) construction
  line L34 (-788, 70) -> (-788, 10) construction
  line L35 (-788, 40) -> (-798, 40) construction
  line L36 (-748, 10) -> (-748, 0) construction
  circle A8 centre (-788, 10) radius 5
  circle A9 centre (-788, 70) radius 5
  circle A10 centre (-708, 70) radius 5
  circle A11 centre (-708, 10) radius 5
  line L37 (-808, 258) -> (-808, 100)
  line L38 (-808, 179) -> (-1076.2503, 179) construction
  line L39 (-788, 288) -> (-788, 348) construction
  line L40 (-708, 288) -> (-788, 288) construction
  circle A12 centre (-788, 288) radius 5
  line L41 (-798, 278) -> (-798, 358)
  line L42 (-698, 278) -> (-798, 278)
  circle A13 centre (-708, 288) radius 5
  line L43 (-698, 358) -> (-698, 278)
  line L44 (-708, 348) -> (-708, 288) construction
  line L45 (-748, 348) -> (-748, 358) construction
  circle A14 centre (-708, 348) radius 5
  line L46 (-768, 358) -> (-728, 358)
  line L47 (-788, 348) -> (-708, 348) construction
  line L48 (-798, 358) -> (-698, 358)
  circle A15 centre (-788, 348) radius 5
  line L49 (-788, 318) -> (-798, 318) construction
  point P0 (-364, 104)
  dimension "d85" = 100
  dimension "d86" = 80
  dimension "d87" = 80
  dimension "d88" = 10
  dimension "d89" = 10
  dimension "d90" = 10
  dimension "d91" = 10
extrude "Extrusión17" add sketch "Boceto26" along normal blind 3
properties part number "SoporteBobina"
